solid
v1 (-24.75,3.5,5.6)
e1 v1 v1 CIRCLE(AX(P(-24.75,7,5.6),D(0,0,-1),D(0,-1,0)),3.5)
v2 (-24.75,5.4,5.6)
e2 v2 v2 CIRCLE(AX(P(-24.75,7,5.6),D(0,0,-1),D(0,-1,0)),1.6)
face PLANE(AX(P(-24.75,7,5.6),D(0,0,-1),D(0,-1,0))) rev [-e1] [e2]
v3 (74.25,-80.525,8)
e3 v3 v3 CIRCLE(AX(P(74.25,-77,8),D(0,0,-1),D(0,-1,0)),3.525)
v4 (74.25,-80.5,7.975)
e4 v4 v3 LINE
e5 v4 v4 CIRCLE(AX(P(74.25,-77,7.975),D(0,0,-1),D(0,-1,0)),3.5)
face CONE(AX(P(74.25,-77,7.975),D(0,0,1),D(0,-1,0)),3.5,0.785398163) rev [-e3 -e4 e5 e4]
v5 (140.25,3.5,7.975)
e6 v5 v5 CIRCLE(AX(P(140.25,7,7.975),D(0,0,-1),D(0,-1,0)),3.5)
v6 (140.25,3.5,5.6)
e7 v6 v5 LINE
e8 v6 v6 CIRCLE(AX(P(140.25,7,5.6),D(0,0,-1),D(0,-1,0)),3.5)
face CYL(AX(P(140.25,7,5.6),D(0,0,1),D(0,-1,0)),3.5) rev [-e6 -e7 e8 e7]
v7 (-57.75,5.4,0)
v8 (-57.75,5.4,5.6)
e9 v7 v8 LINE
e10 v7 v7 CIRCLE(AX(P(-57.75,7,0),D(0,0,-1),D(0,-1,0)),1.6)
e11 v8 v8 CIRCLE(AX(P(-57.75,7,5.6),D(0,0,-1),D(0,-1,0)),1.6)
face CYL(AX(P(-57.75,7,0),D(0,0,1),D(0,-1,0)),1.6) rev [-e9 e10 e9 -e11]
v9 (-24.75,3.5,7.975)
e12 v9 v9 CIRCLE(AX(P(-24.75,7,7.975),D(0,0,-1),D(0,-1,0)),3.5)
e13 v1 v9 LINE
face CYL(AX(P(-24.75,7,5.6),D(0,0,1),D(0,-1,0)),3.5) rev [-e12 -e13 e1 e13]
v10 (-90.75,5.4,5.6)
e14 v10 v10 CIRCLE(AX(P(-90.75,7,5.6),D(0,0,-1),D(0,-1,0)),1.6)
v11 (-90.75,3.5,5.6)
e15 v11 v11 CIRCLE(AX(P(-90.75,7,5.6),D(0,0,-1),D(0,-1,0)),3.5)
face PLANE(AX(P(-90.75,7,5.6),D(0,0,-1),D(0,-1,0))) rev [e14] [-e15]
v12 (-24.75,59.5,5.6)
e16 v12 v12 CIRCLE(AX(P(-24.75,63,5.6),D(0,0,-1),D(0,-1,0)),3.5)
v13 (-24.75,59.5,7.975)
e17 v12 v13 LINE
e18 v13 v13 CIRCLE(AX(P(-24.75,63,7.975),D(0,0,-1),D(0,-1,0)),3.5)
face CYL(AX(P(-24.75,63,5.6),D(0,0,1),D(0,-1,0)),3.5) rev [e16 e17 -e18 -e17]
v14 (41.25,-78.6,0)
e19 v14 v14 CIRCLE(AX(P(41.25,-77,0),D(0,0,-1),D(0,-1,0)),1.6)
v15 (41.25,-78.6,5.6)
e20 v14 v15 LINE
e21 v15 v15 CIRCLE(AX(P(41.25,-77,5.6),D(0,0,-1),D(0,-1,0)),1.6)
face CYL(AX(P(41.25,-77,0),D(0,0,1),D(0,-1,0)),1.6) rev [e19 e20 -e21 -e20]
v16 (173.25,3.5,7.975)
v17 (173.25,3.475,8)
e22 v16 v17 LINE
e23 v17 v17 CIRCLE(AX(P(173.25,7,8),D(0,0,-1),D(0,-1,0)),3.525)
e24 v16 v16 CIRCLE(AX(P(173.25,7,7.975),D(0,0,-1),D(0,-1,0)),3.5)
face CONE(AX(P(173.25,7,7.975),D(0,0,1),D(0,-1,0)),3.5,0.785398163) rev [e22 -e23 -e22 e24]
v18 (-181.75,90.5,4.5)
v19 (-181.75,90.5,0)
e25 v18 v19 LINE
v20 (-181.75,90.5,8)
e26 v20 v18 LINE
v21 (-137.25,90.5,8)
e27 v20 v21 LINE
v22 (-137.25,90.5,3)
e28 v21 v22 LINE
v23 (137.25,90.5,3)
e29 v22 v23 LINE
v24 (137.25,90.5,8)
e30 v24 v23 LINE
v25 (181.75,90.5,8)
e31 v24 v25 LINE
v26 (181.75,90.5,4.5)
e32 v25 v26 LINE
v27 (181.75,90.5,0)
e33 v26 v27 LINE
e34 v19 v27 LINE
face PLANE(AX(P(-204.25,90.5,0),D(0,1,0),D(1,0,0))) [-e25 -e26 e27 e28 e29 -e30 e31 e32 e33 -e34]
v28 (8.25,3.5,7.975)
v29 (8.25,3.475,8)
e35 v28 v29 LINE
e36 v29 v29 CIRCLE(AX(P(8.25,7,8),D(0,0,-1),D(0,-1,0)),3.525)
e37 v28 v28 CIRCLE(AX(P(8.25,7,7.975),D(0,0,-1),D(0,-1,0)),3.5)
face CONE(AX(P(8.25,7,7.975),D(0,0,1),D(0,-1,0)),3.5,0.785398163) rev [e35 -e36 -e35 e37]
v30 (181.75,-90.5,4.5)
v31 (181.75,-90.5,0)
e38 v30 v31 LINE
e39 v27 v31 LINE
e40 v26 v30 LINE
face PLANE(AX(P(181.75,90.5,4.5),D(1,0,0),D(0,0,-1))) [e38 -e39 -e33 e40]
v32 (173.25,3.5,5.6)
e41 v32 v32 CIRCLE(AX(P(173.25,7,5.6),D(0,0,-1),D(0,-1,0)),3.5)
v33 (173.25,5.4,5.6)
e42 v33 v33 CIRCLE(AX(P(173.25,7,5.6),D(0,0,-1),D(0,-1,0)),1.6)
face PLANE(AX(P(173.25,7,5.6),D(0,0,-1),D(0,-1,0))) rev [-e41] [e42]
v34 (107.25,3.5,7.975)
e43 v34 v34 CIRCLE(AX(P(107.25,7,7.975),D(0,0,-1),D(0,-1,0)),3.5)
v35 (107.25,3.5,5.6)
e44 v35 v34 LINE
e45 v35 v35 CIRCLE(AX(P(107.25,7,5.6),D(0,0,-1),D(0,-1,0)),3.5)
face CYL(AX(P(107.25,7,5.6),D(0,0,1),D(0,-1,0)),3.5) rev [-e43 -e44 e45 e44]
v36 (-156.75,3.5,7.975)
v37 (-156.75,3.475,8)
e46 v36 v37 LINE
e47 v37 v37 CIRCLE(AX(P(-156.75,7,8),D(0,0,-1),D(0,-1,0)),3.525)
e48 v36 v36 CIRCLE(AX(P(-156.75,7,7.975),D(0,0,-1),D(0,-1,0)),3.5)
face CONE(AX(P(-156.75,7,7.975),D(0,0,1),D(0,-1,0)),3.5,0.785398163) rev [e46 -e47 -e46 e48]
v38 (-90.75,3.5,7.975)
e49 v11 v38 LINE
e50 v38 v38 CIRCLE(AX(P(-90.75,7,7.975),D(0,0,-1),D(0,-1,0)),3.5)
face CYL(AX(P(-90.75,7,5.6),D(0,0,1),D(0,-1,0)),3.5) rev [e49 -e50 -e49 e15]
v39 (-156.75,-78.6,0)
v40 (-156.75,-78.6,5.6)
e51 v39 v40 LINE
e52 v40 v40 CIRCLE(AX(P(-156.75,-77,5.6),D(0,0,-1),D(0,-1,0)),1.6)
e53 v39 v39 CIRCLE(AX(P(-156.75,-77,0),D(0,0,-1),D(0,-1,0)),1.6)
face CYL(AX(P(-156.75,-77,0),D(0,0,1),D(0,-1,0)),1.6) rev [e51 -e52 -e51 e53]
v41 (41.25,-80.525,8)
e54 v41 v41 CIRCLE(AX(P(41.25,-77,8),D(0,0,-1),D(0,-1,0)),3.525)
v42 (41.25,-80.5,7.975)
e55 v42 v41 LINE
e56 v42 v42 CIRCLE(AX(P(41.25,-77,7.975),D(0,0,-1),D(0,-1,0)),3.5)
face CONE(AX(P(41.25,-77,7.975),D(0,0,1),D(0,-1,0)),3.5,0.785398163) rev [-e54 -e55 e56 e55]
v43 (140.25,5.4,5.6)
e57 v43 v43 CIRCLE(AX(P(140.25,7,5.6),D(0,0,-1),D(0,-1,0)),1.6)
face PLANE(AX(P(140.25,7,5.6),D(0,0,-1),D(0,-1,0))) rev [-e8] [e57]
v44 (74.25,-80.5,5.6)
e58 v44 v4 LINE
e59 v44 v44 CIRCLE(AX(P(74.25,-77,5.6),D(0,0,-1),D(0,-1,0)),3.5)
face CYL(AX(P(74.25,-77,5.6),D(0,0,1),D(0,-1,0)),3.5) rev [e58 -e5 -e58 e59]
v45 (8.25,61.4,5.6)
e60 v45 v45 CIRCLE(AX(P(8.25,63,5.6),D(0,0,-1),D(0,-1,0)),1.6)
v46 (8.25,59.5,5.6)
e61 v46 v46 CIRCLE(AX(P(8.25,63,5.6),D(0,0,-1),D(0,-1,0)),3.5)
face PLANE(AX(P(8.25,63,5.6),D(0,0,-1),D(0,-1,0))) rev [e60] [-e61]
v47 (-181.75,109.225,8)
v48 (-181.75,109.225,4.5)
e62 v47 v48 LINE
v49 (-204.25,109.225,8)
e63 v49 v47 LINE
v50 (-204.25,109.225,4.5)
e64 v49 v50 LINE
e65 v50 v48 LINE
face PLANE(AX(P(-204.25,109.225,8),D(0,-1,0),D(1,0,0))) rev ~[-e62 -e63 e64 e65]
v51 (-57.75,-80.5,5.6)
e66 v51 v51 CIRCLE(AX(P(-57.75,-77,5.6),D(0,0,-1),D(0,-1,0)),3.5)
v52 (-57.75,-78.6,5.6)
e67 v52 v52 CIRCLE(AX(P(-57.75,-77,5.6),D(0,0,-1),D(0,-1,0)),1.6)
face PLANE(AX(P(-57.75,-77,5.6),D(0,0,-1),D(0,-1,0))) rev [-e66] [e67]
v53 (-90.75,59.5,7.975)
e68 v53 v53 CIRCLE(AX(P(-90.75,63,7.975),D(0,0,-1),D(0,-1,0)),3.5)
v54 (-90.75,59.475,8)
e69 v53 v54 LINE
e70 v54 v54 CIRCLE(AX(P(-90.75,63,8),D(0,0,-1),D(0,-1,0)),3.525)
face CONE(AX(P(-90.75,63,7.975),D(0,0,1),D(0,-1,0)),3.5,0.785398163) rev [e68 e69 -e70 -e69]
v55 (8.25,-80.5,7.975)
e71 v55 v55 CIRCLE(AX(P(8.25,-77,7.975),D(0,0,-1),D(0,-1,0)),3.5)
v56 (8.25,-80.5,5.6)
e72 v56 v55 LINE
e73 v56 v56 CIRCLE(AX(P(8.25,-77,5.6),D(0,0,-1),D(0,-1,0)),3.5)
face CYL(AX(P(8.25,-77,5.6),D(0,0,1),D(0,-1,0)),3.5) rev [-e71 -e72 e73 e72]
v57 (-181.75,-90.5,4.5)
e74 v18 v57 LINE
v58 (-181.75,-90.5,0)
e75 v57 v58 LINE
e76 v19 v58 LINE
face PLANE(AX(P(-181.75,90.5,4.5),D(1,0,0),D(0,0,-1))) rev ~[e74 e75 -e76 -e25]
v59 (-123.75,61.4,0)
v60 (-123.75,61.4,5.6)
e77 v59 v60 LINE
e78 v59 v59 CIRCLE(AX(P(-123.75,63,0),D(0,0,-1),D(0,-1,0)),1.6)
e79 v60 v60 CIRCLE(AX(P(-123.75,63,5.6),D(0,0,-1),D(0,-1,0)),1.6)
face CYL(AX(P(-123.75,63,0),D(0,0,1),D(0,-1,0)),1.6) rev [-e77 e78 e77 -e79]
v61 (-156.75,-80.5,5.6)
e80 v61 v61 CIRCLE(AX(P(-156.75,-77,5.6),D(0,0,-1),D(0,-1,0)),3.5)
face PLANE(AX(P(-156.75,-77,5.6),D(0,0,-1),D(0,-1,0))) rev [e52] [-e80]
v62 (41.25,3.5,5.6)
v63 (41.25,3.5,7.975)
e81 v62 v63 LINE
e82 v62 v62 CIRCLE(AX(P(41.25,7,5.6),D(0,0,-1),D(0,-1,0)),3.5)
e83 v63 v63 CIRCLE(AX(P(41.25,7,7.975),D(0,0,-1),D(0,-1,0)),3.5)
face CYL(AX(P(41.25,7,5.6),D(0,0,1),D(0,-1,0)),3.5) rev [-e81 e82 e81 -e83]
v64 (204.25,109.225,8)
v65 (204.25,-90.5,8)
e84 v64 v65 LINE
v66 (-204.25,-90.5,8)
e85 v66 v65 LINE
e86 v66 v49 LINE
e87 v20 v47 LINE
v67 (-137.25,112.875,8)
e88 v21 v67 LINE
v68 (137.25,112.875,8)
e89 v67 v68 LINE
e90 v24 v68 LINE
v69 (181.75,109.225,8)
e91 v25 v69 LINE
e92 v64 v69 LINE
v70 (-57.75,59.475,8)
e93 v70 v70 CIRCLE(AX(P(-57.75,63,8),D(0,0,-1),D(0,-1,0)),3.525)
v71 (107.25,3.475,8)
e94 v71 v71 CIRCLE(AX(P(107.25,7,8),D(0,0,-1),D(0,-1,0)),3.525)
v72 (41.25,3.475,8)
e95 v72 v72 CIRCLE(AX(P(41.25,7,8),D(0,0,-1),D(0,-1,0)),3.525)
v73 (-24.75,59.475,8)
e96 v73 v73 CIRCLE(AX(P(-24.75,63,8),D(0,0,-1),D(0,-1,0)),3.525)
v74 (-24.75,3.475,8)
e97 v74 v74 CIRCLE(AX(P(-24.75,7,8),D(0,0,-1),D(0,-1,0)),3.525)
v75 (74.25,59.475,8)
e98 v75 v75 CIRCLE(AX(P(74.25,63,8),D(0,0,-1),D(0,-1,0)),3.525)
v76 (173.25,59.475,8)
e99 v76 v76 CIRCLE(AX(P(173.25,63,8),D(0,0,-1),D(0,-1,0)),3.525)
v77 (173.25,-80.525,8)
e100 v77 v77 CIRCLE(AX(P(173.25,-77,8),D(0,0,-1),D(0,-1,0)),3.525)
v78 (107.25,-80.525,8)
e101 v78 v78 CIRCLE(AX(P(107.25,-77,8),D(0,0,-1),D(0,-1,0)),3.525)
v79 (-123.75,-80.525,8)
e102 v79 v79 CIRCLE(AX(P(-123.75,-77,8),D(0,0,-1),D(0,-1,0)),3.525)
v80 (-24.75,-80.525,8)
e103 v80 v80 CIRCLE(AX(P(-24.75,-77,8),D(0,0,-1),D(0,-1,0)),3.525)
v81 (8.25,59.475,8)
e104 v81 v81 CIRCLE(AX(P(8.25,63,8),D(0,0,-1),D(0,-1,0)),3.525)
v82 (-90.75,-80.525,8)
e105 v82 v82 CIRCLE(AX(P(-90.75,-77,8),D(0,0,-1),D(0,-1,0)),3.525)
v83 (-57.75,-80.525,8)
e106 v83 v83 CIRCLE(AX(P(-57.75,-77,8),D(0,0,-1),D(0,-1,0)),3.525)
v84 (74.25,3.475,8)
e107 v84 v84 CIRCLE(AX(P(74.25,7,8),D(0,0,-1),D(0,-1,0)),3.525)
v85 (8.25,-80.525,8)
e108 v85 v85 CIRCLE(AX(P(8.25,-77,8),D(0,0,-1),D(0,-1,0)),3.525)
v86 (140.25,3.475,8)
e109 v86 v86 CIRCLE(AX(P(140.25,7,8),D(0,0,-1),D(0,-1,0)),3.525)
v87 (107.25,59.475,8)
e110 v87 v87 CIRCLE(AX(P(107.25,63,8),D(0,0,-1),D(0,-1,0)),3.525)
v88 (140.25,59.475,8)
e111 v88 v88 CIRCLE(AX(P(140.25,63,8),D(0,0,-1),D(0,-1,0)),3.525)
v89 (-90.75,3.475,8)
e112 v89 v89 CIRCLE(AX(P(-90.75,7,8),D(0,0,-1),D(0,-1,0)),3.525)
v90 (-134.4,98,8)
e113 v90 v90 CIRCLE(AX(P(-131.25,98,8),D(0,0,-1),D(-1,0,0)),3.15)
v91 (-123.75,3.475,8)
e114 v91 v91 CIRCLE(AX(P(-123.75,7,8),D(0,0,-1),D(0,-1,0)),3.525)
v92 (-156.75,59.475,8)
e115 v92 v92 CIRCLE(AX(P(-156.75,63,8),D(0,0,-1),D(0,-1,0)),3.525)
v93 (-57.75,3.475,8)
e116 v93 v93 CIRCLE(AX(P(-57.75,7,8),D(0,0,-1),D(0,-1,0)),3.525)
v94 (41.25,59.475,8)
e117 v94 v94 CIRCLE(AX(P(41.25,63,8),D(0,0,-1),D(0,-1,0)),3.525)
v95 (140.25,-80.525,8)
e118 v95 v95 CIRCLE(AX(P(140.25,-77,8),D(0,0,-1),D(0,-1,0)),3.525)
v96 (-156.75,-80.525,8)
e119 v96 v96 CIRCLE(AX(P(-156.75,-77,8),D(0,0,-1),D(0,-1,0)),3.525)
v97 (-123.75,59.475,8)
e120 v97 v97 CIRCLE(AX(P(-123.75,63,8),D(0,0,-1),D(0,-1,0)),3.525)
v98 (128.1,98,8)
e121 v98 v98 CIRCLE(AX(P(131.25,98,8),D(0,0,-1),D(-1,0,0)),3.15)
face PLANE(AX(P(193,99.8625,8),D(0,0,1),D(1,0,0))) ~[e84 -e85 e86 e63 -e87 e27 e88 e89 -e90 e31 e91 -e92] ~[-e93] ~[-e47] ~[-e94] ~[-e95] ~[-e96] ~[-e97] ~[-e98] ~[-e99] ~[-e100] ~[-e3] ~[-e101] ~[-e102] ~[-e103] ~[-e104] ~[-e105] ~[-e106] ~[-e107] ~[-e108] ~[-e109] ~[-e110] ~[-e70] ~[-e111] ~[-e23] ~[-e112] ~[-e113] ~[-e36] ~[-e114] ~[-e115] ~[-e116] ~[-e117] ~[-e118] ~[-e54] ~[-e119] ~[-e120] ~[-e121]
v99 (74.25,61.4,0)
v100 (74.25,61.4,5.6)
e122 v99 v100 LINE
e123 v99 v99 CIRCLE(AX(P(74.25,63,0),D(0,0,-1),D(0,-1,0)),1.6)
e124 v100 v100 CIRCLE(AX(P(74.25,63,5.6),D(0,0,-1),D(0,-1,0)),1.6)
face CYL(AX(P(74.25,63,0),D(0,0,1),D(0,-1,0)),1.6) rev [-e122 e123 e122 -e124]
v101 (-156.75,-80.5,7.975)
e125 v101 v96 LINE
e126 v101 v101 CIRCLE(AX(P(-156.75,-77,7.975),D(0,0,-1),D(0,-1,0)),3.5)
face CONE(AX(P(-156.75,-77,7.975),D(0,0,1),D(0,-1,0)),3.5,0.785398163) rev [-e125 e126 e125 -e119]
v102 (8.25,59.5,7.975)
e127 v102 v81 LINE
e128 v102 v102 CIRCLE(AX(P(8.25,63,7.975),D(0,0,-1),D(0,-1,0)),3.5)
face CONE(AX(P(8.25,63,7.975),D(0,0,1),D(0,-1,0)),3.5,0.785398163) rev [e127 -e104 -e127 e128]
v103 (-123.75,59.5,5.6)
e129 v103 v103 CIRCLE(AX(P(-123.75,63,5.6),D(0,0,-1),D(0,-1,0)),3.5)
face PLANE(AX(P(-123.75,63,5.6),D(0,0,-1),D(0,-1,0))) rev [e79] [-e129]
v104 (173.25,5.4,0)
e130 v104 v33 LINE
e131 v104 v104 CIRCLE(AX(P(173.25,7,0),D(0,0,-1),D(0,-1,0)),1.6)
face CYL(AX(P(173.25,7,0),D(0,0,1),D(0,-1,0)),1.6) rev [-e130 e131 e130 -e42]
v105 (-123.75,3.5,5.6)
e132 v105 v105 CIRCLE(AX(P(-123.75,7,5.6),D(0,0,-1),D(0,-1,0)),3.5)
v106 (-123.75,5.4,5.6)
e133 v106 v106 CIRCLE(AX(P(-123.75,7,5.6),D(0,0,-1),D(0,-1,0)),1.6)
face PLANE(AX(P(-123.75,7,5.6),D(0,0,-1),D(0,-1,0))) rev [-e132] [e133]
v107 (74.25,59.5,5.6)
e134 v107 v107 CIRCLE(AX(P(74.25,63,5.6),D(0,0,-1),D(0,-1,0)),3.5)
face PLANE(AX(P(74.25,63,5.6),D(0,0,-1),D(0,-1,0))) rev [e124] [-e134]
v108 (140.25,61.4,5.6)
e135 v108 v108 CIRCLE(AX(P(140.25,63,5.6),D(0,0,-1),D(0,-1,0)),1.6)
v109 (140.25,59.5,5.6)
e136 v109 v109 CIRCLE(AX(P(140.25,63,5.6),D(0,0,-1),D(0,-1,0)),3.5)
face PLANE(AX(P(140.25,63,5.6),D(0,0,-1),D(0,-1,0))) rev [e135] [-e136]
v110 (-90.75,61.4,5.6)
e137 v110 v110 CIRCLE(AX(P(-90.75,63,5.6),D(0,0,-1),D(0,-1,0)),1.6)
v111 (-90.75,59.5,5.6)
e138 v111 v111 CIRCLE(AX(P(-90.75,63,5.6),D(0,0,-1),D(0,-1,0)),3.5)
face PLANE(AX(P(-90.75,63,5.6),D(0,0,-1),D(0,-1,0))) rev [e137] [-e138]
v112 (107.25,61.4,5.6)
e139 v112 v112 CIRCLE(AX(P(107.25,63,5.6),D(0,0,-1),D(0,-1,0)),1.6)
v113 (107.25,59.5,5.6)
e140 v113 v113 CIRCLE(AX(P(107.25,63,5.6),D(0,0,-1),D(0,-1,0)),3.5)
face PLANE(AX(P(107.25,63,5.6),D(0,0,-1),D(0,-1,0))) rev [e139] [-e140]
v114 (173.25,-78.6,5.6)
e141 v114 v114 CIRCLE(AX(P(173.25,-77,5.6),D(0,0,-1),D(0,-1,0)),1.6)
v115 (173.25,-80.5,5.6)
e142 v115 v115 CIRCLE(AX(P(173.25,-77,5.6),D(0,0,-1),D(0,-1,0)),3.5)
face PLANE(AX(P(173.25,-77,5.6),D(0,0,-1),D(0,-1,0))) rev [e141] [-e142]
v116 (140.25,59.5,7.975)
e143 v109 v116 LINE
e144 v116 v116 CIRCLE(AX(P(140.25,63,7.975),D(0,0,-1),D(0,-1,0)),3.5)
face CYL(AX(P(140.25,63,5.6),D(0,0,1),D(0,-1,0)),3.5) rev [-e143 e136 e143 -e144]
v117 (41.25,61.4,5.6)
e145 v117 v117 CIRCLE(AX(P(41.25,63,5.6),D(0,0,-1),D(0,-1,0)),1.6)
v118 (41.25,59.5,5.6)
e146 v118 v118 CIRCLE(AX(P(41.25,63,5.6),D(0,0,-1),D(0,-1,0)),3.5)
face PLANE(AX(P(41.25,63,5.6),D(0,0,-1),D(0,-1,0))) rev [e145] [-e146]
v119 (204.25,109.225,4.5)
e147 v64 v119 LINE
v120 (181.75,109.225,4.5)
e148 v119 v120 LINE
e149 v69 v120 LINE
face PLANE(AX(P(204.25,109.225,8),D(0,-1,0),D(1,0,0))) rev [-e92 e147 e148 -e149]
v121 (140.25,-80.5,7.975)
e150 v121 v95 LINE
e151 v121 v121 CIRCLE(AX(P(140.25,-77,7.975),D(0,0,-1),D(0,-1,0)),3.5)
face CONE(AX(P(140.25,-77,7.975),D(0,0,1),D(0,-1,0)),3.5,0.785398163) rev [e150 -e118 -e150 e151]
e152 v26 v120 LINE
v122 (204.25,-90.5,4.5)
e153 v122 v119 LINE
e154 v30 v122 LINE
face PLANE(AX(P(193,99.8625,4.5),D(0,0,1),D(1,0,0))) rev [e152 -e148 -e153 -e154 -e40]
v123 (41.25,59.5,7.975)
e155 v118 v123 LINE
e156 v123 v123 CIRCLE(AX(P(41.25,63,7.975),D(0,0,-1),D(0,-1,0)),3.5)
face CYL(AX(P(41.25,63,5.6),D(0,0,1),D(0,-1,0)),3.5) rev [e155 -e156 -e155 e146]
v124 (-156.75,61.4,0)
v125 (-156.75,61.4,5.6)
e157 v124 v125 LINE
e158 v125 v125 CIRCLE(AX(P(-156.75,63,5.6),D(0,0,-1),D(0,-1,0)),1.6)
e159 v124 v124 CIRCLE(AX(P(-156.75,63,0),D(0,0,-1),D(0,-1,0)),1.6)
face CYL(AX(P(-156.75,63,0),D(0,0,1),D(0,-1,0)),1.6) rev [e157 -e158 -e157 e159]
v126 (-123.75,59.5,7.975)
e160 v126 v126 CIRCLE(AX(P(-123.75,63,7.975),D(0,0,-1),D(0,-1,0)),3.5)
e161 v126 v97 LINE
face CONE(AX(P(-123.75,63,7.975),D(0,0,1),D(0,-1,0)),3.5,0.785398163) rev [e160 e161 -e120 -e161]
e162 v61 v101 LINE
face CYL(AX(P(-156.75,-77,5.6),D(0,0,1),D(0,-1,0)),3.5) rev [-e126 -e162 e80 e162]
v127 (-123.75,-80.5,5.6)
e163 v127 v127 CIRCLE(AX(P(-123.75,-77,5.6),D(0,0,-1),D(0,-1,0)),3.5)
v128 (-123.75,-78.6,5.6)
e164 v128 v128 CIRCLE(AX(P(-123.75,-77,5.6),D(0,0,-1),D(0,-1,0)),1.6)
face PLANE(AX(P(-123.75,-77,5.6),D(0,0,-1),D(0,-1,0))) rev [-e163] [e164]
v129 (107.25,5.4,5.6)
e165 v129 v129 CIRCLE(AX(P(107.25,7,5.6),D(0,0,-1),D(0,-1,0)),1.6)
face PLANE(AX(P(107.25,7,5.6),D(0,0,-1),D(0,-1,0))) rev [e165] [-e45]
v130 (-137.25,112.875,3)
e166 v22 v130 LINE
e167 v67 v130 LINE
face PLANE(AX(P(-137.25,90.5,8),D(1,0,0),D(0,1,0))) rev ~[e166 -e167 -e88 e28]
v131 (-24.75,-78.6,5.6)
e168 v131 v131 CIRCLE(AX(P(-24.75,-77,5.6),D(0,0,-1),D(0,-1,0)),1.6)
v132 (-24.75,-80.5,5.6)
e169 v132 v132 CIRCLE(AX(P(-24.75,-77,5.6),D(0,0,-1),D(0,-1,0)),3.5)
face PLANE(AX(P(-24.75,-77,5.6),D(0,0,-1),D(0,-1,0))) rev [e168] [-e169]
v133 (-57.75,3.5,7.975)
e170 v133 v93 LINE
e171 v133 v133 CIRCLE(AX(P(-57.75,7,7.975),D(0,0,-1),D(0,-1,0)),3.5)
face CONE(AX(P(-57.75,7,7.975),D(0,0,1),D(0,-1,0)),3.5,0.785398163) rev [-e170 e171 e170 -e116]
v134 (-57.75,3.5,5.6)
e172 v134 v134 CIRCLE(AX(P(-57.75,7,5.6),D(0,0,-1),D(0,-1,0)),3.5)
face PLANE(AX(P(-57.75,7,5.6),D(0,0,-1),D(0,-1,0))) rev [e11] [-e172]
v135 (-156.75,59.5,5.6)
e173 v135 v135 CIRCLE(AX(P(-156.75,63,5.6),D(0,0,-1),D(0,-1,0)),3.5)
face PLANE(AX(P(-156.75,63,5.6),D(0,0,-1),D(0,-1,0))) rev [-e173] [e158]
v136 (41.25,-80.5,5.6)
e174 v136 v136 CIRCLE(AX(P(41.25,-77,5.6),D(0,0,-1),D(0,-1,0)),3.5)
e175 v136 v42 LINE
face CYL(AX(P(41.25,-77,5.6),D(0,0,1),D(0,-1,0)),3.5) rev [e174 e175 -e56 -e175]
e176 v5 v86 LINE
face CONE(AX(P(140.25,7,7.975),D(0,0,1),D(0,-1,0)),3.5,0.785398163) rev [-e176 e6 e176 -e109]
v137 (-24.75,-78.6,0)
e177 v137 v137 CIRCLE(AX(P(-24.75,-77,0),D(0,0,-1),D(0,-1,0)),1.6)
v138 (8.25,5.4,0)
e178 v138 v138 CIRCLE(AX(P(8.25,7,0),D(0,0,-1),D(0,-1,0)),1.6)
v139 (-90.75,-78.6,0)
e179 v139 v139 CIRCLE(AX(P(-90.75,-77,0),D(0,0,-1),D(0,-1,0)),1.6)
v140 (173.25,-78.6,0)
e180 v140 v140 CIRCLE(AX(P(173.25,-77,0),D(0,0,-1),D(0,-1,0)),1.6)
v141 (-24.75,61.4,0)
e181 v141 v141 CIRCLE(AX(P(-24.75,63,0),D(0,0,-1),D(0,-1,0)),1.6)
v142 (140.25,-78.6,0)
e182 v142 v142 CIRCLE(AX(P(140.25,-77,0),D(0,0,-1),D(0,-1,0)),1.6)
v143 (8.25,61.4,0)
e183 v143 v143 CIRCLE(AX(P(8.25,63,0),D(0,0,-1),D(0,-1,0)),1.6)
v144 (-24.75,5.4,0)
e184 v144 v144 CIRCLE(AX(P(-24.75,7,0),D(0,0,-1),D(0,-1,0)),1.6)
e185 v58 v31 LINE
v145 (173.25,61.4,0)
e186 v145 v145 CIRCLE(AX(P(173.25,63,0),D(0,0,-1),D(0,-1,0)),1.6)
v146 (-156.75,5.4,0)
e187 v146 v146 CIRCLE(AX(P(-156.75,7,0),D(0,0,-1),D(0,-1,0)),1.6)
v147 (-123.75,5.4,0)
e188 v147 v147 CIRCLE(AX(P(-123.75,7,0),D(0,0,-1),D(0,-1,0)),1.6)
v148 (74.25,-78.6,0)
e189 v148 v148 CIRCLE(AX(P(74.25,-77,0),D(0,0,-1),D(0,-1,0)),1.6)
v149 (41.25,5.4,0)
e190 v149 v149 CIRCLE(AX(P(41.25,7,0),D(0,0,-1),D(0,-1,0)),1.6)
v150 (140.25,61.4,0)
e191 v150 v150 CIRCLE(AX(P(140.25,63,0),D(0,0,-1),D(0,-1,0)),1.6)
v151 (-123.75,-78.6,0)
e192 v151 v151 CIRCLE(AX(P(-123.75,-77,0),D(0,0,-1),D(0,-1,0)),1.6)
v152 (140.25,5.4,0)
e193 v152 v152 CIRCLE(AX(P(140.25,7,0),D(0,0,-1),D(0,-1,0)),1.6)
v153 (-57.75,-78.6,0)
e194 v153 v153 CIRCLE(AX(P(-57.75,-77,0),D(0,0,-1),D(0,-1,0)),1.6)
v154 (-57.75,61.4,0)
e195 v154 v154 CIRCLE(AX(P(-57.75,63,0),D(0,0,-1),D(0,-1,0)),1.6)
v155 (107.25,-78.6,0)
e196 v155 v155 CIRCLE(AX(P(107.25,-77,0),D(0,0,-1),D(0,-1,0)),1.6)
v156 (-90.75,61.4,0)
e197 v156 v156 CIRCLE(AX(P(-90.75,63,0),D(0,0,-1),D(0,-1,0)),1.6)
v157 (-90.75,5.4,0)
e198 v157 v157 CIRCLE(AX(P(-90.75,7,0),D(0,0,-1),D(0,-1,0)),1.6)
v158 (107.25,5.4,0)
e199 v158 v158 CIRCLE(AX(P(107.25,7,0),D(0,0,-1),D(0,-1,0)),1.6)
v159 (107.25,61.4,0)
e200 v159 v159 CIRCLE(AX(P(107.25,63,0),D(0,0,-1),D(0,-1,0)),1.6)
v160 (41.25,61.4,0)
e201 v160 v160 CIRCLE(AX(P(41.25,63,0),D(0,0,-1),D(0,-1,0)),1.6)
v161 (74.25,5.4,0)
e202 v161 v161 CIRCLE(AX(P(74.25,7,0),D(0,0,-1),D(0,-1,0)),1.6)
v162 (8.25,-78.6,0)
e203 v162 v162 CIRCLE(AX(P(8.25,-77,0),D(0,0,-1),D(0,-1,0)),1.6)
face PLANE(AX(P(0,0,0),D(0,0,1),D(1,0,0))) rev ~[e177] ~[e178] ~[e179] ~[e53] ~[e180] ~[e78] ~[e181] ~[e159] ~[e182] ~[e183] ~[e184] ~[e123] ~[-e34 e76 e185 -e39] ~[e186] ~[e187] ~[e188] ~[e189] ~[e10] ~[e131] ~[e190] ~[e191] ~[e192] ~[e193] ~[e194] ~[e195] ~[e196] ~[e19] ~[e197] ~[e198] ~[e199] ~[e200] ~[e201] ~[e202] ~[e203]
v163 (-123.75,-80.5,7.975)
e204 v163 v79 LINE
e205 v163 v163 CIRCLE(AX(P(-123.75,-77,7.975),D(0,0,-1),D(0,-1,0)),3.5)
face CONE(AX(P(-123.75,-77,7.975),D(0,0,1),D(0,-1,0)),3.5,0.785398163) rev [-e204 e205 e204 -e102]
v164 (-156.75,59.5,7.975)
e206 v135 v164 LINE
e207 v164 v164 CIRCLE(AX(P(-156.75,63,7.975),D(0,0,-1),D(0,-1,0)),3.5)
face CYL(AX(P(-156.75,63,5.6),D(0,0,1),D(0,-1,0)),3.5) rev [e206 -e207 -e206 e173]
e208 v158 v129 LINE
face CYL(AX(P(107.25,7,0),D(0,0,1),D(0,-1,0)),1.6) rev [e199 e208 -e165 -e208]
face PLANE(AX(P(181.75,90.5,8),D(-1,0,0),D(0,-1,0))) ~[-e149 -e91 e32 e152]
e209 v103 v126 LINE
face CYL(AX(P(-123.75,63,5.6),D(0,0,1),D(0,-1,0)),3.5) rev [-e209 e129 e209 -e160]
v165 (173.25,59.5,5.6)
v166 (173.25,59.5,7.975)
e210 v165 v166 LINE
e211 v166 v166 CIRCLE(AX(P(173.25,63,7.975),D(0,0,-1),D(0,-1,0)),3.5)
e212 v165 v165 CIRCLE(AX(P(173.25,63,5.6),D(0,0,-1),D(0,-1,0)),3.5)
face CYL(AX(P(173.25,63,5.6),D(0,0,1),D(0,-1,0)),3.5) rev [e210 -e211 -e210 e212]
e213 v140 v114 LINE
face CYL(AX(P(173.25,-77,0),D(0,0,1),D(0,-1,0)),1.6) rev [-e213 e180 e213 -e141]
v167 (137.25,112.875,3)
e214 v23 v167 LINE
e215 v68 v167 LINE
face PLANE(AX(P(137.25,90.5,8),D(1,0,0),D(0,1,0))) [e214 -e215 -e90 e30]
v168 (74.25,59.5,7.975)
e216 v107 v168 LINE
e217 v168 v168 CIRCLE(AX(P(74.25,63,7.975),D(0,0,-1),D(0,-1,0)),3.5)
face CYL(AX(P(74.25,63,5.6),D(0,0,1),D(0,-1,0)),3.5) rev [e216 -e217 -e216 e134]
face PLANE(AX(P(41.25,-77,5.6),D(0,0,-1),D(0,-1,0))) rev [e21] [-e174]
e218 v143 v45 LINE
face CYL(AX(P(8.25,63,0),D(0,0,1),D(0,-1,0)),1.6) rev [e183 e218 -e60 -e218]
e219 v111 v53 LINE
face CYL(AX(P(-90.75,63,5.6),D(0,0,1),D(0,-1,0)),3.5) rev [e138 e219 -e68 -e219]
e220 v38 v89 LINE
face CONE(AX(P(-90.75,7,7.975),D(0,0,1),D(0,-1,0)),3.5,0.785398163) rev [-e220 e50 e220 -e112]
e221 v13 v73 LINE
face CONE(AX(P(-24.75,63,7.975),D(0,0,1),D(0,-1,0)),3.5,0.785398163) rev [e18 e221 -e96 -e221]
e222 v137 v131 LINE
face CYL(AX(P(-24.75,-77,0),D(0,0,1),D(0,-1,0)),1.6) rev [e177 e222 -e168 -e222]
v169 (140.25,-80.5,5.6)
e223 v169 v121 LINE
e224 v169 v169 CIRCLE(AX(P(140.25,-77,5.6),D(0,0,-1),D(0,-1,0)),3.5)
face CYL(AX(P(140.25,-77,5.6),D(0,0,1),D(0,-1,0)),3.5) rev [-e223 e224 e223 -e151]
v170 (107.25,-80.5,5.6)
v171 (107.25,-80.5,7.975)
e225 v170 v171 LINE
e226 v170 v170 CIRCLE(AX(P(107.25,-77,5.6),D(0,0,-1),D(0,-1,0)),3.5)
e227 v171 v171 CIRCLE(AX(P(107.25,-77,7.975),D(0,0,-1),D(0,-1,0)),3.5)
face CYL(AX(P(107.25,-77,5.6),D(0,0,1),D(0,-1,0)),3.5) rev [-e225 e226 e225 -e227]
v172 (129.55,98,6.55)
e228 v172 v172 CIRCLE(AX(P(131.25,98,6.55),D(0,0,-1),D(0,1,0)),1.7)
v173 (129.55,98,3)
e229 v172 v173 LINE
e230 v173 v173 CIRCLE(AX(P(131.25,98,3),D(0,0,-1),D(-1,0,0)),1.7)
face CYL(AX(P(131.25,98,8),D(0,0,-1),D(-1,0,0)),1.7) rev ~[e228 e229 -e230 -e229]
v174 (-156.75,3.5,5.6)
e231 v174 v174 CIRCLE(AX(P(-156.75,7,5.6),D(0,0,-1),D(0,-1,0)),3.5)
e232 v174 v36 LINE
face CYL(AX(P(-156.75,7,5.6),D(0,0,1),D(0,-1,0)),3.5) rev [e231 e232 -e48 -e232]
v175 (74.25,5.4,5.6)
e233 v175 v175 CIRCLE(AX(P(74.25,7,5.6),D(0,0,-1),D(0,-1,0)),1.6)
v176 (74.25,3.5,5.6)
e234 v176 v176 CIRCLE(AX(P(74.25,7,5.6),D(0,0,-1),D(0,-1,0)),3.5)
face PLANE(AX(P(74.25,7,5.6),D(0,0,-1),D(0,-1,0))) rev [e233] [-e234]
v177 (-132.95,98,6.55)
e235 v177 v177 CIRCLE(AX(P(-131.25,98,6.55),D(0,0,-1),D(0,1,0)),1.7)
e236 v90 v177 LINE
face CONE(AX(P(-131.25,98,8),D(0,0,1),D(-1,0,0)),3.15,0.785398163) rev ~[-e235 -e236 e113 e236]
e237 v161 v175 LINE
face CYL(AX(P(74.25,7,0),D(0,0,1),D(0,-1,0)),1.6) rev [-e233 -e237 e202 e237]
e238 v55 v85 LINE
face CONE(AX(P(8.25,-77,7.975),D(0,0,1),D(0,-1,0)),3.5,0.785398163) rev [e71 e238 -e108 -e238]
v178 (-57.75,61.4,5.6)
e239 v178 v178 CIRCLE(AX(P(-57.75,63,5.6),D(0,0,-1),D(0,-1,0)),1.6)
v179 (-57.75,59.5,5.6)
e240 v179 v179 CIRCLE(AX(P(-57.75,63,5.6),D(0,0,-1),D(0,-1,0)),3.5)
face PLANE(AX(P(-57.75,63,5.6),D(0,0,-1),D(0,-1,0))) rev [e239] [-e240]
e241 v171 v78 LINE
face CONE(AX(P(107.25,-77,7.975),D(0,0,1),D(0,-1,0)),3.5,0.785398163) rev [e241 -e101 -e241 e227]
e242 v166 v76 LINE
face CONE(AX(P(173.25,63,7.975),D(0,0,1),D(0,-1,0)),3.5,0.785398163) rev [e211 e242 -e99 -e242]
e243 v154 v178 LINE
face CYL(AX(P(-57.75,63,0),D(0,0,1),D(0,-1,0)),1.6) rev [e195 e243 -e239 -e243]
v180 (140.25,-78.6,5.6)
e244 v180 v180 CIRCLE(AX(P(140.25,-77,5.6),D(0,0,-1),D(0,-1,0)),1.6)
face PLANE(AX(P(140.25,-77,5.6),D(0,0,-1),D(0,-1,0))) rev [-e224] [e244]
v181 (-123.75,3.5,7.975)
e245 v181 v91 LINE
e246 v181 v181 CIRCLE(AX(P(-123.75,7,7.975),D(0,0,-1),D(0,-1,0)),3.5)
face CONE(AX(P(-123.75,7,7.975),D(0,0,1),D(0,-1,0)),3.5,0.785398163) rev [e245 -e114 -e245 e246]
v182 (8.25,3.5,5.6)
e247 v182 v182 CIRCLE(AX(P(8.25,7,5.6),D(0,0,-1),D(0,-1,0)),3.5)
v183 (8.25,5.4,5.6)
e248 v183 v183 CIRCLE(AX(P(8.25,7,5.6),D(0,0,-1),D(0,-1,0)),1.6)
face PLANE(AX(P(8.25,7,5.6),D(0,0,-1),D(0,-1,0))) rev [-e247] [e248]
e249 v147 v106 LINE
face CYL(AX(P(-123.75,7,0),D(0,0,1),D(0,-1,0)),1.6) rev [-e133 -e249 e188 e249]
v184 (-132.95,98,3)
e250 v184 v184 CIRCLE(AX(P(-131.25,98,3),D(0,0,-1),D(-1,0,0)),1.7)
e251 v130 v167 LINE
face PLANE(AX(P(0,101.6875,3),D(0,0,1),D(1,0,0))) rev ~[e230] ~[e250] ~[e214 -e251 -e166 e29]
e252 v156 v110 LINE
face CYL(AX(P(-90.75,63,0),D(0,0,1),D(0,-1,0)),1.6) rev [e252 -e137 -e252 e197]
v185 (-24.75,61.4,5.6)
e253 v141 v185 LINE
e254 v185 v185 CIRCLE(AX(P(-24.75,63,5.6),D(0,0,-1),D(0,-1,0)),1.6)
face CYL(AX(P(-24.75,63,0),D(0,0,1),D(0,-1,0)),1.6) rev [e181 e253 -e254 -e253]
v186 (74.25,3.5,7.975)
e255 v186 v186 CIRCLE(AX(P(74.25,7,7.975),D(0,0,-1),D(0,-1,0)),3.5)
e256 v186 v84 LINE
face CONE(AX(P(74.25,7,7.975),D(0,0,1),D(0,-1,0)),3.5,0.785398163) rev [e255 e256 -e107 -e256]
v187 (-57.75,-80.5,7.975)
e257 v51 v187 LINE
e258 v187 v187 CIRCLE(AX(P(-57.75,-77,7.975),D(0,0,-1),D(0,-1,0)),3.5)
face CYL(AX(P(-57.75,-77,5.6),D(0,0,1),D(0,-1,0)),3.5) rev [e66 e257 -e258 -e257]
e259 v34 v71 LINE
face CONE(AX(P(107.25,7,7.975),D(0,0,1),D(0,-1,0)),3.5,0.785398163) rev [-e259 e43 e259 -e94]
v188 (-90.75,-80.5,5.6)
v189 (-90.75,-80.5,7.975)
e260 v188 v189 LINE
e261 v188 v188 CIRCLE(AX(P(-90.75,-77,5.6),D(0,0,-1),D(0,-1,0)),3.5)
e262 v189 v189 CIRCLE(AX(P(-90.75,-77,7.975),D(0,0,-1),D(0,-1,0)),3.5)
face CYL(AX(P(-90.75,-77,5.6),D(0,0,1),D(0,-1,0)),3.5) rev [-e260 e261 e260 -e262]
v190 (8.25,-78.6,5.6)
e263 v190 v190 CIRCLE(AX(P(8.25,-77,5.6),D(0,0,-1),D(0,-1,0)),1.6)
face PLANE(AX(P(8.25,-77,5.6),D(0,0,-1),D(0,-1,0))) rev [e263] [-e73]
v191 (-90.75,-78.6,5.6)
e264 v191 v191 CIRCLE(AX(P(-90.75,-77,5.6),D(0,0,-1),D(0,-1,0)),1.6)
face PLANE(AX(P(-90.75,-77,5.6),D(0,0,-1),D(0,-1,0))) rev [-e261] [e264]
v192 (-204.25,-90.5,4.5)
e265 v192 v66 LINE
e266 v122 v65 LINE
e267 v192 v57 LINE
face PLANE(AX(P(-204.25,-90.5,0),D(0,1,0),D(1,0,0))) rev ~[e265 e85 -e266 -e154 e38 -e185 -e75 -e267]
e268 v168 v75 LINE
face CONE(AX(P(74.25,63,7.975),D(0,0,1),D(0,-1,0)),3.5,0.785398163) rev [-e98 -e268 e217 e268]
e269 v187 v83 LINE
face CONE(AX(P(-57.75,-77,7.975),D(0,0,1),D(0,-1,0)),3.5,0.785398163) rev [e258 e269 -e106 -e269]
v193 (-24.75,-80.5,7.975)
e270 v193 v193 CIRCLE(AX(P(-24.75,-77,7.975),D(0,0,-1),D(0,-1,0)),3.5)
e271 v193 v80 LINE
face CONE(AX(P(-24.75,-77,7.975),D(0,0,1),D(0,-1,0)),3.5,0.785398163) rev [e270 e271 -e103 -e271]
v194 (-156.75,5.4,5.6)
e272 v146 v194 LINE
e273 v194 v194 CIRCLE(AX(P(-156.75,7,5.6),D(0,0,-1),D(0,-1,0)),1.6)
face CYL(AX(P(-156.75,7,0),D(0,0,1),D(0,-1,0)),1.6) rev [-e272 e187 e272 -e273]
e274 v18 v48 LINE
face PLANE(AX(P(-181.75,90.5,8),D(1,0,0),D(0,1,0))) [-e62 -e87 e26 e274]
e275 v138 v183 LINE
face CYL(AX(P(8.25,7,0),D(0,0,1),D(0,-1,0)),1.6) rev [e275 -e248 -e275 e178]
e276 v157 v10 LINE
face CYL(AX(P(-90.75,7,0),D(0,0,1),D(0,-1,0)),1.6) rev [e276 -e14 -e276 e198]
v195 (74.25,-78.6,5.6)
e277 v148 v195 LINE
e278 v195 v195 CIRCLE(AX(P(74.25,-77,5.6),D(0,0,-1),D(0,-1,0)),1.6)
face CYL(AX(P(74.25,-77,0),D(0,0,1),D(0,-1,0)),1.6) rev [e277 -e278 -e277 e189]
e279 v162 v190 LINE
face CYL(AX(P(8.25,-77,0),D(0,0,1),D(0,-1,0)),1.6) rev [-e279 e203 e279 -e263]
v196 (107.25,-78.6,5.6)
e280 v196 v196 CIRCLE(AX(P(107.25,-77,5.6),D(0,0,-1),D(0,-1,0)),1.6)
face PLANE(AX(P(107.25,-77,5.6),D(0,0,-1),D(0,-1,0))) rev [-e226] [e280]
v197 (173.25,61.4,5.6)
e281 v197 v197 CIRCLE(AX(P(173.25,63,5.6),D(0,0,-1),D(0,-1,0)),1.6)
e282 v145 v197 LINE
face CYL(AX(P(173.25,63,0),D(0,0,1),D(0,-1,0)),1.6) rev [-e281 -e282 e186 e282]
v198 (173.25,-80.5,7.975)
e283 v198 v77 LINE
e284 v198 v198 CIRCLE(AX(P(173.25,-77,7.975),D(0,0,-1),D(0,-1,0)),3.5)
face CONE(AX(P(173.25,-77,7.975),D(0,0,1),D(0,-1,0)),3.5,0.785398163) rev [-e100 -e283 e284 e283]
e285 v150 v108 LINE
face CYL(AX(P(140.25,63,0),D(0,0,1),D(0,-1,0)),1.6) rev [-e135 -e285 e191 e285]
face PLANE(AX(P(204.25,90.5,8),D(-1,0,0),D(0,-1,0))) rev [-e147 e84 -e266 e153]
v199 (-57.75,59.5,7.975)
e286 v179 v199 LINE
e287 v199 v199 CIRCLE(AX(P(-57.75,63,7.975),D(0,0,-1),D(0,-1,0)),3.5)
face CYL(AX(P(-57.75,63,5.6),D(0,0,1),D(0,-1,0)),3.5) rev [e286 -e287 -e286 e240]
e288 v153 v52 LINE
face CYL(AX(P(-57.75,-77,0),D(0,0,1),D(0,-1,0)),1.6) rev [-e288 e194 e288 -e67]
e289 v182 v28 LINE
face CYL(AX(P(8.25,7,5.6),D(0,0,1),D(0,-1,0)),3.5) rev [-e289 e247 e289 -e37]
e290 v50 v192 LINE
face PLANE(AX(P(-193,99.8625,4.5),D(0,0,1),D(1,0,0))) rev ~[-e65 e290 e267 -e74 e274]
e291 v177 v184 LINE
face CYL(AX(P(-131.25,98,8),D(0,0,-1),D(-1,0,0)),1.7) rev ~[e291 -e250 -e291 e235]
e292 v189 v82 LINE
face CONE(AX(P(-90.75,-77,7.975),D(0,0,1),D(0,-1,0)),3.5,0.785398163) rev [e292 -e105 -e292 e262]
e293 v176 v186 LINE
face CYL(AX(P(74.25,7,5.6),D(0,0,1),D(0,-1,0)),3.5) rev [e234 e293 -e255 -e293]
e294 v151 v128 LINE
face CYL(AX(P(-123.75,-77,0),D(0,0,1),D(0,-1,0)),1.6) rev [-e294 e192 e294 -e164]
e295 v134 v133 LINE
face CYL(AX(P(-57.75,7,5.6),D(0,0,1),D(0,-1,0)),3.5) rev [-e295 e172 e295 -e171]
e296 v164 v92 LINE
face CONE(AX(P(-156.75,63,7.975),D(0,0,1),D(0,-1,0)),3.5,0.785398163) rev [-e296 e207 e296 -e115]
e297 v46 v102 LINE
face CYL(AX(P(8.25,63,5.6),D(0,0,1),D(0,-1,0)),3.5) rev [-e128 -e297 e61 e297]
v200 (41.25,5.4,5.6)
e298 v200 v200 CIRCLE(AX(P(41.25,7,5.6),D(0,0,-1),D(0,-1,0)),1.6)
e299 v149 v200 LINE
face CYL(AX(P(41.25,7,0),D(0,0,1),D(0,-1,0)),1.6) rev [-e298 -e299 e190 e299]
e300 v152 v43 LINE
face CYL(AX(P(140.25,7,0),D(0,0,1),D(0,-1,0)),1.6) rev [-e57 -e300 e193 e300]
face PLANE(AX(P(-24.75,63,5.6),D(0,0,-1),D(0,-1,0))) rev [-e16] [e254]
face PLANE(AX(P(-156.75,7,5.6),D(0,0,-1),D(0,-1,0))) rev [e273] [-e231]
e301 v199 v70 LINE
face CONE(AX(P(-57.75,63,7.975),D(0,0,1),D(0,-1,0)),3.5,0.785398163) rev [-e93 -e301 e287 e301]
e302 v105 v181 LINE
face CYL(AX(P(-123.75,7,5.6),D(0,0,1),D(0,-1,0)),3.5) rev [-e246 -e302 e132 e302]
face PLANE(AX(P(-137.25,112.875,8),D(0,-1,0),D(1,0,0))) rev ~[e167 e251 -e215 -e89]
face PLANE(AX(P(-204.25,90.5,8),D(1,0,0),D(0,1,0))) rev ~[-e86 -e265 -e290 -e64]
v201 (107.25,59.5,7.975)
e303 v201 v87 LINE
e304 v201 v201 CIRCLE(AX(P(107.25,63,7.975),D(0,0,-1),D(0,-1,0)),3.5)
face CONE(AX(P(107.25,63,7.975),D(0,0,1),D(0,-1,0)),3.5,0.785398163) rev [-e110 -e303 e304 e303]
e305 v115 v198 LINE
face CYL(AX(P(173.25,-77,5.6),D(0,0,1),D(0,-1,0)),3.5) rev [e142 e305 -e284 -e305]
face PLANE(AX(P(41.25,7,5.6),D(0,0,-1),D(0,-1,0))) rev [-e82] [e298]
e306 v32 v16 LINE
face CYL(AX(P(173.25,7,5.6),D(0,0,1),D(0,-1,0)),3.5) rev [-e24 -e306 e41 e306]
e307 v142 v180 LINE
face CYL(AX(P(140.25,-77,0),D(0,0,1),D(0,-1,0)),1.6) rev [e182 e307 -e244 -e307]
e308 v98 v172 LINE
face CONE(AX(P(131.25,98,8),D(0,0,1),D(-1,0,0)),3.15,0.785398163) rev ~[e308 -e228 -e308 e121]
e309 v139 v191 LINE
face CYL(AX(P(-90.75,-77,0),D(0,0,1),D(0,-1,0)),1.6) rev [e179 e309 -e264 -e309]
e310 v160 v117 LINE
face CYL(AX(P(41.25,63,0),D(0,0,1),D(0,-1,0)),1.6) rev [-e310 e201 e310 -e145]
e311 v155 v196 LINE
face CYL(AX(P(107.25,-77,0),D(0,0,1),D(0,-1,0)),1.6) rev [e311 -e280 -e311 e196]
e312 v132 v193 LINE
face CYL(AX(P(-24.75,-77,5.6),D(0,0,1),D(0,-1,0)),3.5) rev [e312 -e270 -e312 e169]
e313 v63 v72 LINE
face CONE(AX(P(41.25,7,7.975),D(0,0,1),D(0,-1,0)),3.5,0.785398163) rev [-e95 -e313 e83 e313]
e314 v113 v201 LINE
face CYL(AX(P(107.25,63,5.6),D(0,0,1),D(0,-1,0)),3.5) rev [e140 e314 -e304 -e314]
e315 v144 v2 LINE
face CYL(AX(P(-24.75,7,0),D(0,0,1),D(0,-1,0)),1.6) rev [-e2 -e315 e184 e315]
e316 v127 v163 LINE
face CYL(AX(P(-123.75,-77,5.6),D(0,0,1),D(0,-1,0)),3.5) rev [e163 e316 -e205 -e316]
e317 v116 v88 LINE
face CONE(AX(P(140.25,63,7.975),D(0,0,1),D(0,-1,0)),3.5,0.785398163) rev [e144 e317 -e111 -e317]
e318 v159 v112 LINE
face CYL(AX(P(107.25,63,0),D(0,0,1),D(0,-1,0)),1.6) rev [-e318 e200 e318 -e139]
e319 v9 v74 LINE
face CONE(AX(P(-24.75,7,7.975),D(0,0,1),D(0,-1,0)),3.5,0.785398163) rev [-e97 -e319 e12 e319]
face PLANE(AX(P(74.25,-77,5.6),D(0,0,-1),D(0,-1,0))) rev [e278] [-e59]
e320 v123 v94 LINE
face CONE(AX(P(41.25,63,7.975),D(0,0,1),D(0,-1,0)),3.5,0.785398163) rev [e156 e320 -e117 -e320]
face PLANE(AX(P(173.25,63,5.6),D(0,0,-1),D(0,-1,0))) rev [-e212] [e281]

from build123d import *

# Parameters (mm, degrees)
ESQUISSE1_W                                    = 408.5
ESQUISSE1_H                                    = 181
BOSS_EXTRU_1_DEPTH                             = 8
CHAMBRAGE_POUR_VIS_T_TE_RONDE_BOMB_2_COUNT     = 2
CHAMBRAGE_POUR_VIS_T_TE_RONDE_BOMB_2_PITCH     = 56
CHAMBRAGE_POUR_VIS_T_TE_RONDE_BOMB_3_COUNT     = 2
CHAMBRAGE_POUR_VIS_T_TE_RONDE_BOMB_3_PITCH     = 140
R_P_TITION_LIN_AIRE1_COUNT                     = 11
R_P_TITION_LIN_AIRE1_PITCH                     = 33
ESQUISSE4_W                                    = 22.5
ESQUISSE4_H                                    = 4.5
ENL_V_MAT_EXTRU_1_DEPTH                        = 181
ESQUISSE5_W                                    = 22.5
ESQUISSE5_H                                    = 18.725
BOSS_EXTRU_2_DEPTH                             = 3.5
ESQUISSE7_W                                    = 274.5
ESQUISSE7_H                                    = 22.375
BOSS_EXTRU_3_DEPTH                             = 5
FRAISAGE_POUR_VIS_T_TE_FRAIS_E_M31_D           = 3.4
FRAISAGE_POUR_VIS_T_TE_FRAIS_E_M31_CSINK_D     = 6.3
FRAISAGE_POUR_VIS_T_TE_FRAIS_E_M31_CSINK_ANGLE = 90


with BuildPart() as part:
    # Esquisse1 → Boss.-Extru.1 (new body)
    with BuildSketch(Plane.XY):
        Rectangle(ESQUISSE1_W, ESQUISSE1_H)
    extrude(amount=BOSS_EXTRU_1_DEPTH)

    # Esquisse3 → Chambrage pour vis à tête ronde bombée M31 (revolve, cut)
    with BuildSketch(Plane(origin=(-156.75, 63, 8), x_dir=(0, -1, 0), z_dir=(1, 0, 0))):
        Polygon((0, 0), (0, 8), (1.6, 8), (1.6, 2.4), (3.5, 2.4), (3.5, 0.025), (3.525, 0), align=None)
    chambrage_pour_vis_t_te_ronde_bomb_e_m = revolve(axis=Axis((-156.75, 63, 14.35), (0, 0, -1)), mode=Mode.SUBTRACT)

    # Chambrage pour vis _ t_te ronde bomb 2: Chambrage pour vis à tête ronde bombée M31 ×2
    with Locations(*[(0, -i * CHAMBRAGE_POUR_VIS_T_TE_RONDE_BOMB_2_PITCH, 0) for i in range(1, CHAMBRAGE_POUR_VIS_T_TE_RONDE_BOMB_2_COUNT)]):
        add(chambrage_pour_vis_t_te_ronde_bomb_e_m, mode=Mode.SUBTRACT)

    # Chambrage pour vis _ t_te ronde bomb 3: Chambrage pour vis à tête ronde bombée M31 ×2
    with Locations(*[(0, -i * CHAMBRAGE_POUR_VIS_T_TE_RONDE_BOMB_3_PITCH, 0) for i in range(1, CHAMBRAGE_POUR_VIS_T_TE_RONDE_BOMB_3_COUNT)]):
        add(chambrage_pour_vis_t_te_ronde_bomb_e_m, mode=Mode.SUBTRACT)

    # Répétition linéaire1: Chambrage pour vis à tête ronde bombée M31 ×11
    with Locations(*[(i * R_P_TITION_LIN_AIRE1_PITCH, 0, 0) for i in range(1, R_P_TITION_LIN_AIRE1_COUNT)]):
        add(chambrage_pour_vis_t_te_ronde_bomb_e_m, mode=Mode.SUBTRACT)

    # Répétition linéaire1 copy 1 sketch → Répétition linéaire1 copy 1 (revolve, cut)
    with BuildSketch(Plane(origin=(-123.75, 7, 8), x_dir=(0, -1, 0), z_dir=(1, 0, 0))):
        Polygon((0, 0), (0, 8), (1.6, 8), (1.6, 2.4), (3.5, 2.4), (3.5, 0.025), (3.525, 0), align=None)
    revolve(axis=Axis((-123.75, 7, 14.35), (0, 0, -1)), mode=Mode.SUBTRACT)

    # Répétition linéaire1 copy 2 sketch → Répétition linéaire1 copy 2 (revolve, cut)
    with BuildSketch(Plane(origin=(-90.75, 7, 8), x_dir=(0, -1, 0), z_dir=(1, 0, 0))):
        Polygon((0, 0), (0, 8), (1.6, 8), (1.6, 2.4), (3.5, 2.4), (3.5, 0.025), (3.525, 0), align=None)
    revolve(axis=Axis((-90.75, 7, 14.35), (0, 0, -1)), mode=Mode.SUBTRACT)

    # Répétition linéaire1 copy 3 sketch → Répétition linéaire1 copy 3 (revolve, cut)
    with BuildSketch(Plane(origin=(-57.75, 7, 8), x_dir=(0, -1, 0), z_dir=(1, 0, 0))):
        Polygon((0, 0), (0, 8), (1.6, 8), (1.6, 2.4), (3.5, 2.4), (3.5, 0.025), (3.525, 0), align=None)
    revolve(axis=Axis((-57.75, 7, 14.35), (0, 0, -1)), mode=Mode.SUBTRACT)

    # Répétition linéaire1 copy 4 sketch → Répétition linéaire1 copy 4 (revolve, cut)
    with BuildSketch(Plane(origin=(-24.75, 7, 8), x_dir=(0, -1, 0), z_dir=(1, 0, 0))):
        Polygon((0, 0), (0, 8), (1.6, 8), (1.6, 2.4), (3.5, 2.4), (3.5, 0.025), (3.525, 0), align=None)
    revolve(axis=Axis((-24.75, 7, 14.35), (0, 0, -1)), mode=Mode.SUBTRACT)

    # Répétition linéaire1 copy 5 sketch → Répétition linéaire1 copy 5 (revolve, cut)
    with BuildSketch(Plane(origin=(8.25, 7, 8), x_dir=(0, -1, 0), z_dir=(1, 0, 0))):
        Polygon((0, 0), (0, 8), (1.6, 8), (1.6, 2.4), (3.5, 2.4), (3.5, 0.025), (3.525, 0), align=None)
    revolve(axis=Axis((8.25, 7, 14.35), (0, 0, -1)), mode=Mode.SUBTRACT)

    # Répétition linéaire1 copy 6 sketch → Répétition linéaire1 copy 6 (revolve, cut)
    with BuildSketch(Plane(origin=(41.25, 7, 8), x_dir=(0, -1, 0), z_dir=(1, 0, 0))):
        Polygon((0, 0), (0, 8), (1.6, 8), (1.6, 2.4), (3.5, 2.4), (3.5, 0.025), (3.525, 0), align=None)
    revolve(axis=Axis((41.25, 7, 14.35), (0, 0, -1)), mode=Mode.SUBTRACT)

    # Répétition linéaire1 copy 7 sketch → Répétition linéaire1 copy 7 (revolve, cut)
    with BuildSketch(Plane(origin=(74.25, 7, 8), x_dir=(0, -1, 0), z_dir=(1, 0, 0))):
        Polygon((0, 0), (0, 8), (1.6, 8), (1.6, 2.4), (3.5, 2.4), (3.5, 0.025), (3.525, 0), align=None)
    revolve(axis=Axis((74.25, 7, 14.35), (0, 0, -1)), mode=Mode.SUBTRACT)

    # Répétition linéaire1 copy 8 sketch → Répétition linéaire1 copy 8 (revolve, cut)
    with BuildSketch(Plane(origin=(107.25, 7, 8), x_dir=(0, -1, 0), z_dir=(1, 0, 0))):
        Polygon((0, 0), (0, 8), (1.6, 8), (1.6, 2.4), (3.5, 2.4), (3.5, 0.025), (3.525, 0), align=None)
    revolve(axis=Axis((107.25, 7, 14.35), (0, 0, -1)), mode=Mode.SUBTRACT)

    # Répétition linéaire1 copy 9 sketch → Répétition linéaire1 copy 9 (revolve, cut)
    with BuildSketch(Plane(origin=(140.25, 7, 8), x_dir=(0, -1, 0), z_dir=(1, 0, 0))):
        Polygon((0, 0), (0, 8), (1.6, 8), (1.6, 2.4), (3.5, 2.4), (3.5, 0.025), (3.525, 0), align=None)
    revolve(axis=Axis((140.25, 7, 14.35), (0, 0, -1)), mode=Mode.SUBTRACT)

    # Répétition linéaire1 copy 10 sketch → Répétition linéaire1 copy 10 (revolve, cut)
    with BuildSketch(Plane(origin=(173.25, 7, 8), x_dir=(0, -1, 0), z_dir=(1, 0, 0))):
        Polygon((0, 0), (0, 8), (1.6, 8), (1.6, 2.4), (3.5, 2.4), (3.5, 0.025), (3.525, 0), align=None)
    revolve(axis=Axis((173.25, 7, 14.35), (0, 0, -1)), mode=Mode.SUBTRACT)

    # Répétition linéaire1 copy 11 sketch → Répétition linéaire1 copy 11 (revolve, cut)
    with BuildSketch(Plane(origin=(-123.75, -77, 8), x_dir=(0, -1, 0), z_dir=(1, 0, 0))):
        Polygon((0, 0), (0, 8), (1.6, 8), (1.6, 2.4), (3.5, 2.4), (3.5, 0.025), (3.525, 0), align=None)
    revolve(axis=Axis((-123.75, -77, 14.35), (0, 0, -1)), mode=Mode.SUBTRACT)

    # Répétition linéaire1 copy 12 sketch → Répétition linéaire1 copy 12 (revolve, cut)
    with BuildSketch(Plane(origin=(-90.75, -77, 8), x_dir=(0, -1, 0), z_dir=(1, 0, 0))):
        Polygon((0, 0), (0, 8), (1.6, 8), (1.6, 2.4), (3.5, 2.4), (3.5, 0.025), (3.525, 0), align=None)
    revolve(axis=Axis((-90.75, -77, 14.35), (0, 0, -1)), mode=Mode.SUBTRACT)

    # Répétition linéaire1 copy 13 sketch → Répétition linéaire1 copy 13 (revolve, cut)
    with BuildSketch(Plane(origin=(-57.75, -77, 8), x_dir=(0, -1, 0), z_dir=(1, 0, 0))):
        Polygon((0, 0), (0, 8), (1.6, 8), (1.6, 2.4), (3.5, 2.4), (3.5, 0.025), (3.525, 0), align=None)
    revolve(axis=Axis((-57.75, -77, 14.35), (0, 0, -1)), mode=Mode.SUBTRACT)

    # Répétition linéaire1 copy 14 sketch → Répétition linéaire1 copy 14 (revolve, cut)
    with BuildSketch(Plane(origin=(-24.75, -77, 8), x_dir=(0, -1, 0), z_dir=(1, 0, 0))):
        Polygon((0, 0), (0, 8), (1.6, 8), (1.6, 2.4), (3.5, 2.4), (3.5, 0.025), (3.525, 0), align=None)
    revolve(axis=Axis((-24.75, -77, 14.35), (0, 0, -1)), mode=Mode.SUBTRACT)

    # Répétition linéaire1 copy 15 sketch → Répétition linéaire1 copy 15 (revolve, cut)
    with BuildSketch(Plane(origin=(8.25, -77, 8), x_dir=(0, -1, 0), z_dir=(1, 0, 0))):
        Polygon((0, 0), (0, 8), (1.6, 8), (1.6, 2.4), (3.5, 2.4), (3.5, 0.025), (3.525, 0), align=None)
    revolve(axis=Axis((8.25, -77, 14.35), (0, 0, -1)), mode=Mode.SUBTRACT)

    # Répétition linéaire1 copy 16 sketch → Répétition linéaire1 copy 16 (revolve, cut)
    with BuildSketch(Plane(origin=(41.25, -77, 8), x_dir=(0, -1, 0), z_dir=(1, 0, 0))):
        Polygon((0, 0), (0, 8), (1.6, 8), (1.6, 2.4), (3.5, 2.4), (3.5, 0.025), (3.525, 0), align=None)
    revolve(axis=Axis((41.25, -77, 14.35), (0, 0, -1)), mode=Mode.SUBTRACT)

    # Répétition linéaire1 copy 17 sketch → Répétition linéaire1 copy 17 (revolve, cut)
    with BuildSketch(Plane(origin=(74.25, -77, 8), x_dir=(0, -1, 0), z_dir=(1, 0, 0))):
        Polygon((0, 0), (0, 8), (1.6, 8), (1.6, 2.4), (3.5, 2.4), (3.5, 0.025), (3.525, 0), align=None)
    revolve(axis=Axis((74.25, -77, 14.35), (0, 0, -1)), mode=Mode.SUBTRACT)

    # Répétition linéaire1 copy 18 sketch → Répétition linéaire1 copy 18 (revolve, cut)
    with BuildSketch(Plane(origin=(107.25, -77, 8), x_dir=(0, -1, 0), z_dir=(1, 0, 0))):
        Polygon((0, 0), (0, 8), (1.6, 8), (1.6, 2.4), (3.5, 2.4), (3.5, 0.025), (3.525, 0), align=None)
    revolve(axis=Axis((107.25, -77, 14.35), (0, 0, -1)), mode=Mode.SUBTRACT)

    # Répétition linéaire1 copy 19 sketch → Répétition linéaire1 copy 19 (revolve, cut)
    with BuildSketch(Plane(origin=(140.25, -77, 8), x_dir=(0, -1, 0), z_dir=(1, 0, 0))):
        Polygon((0, 0), (0, 8), (1.6, 8), (1.6, 2.4), (3.5, 2.4), (3.5, 0.025), (3.525, 0), align=None)
    revolve(axis=Axis((140.25, -77, 14.35), (0, 0, -1)), mode=Mode.SUBTRACT)

    # Répétition linéaire1 copy 20 sketch → Répétition linéaire1 copy 20 (revolve, cut)
    with BuildSketch(Plane(origin=(173.25, -77, 8), x_dir=(0, -1, 0), z_dir=(1, 0, 0))):
        Polygon((0, 0), (0, 8), (1.6, 8), (1.6, 2.4), (3.5, 2.4), (3.5, 0.025), (3.525, 0), align=None)
    revolve(axis=Axis((173.25, -77, 14.35), (0, 0, -1)), mode=Mode.SUBTRACT)

    # Esquisse4 → Enlèv. mat.-Extru.1 (cut)
    with BuildSketch(Plane(origin=(0, 90.5, 0), x_dir=(1, 0, 0), z_dir=(0, 1, 0))):
        with Locations((-193, -2.25)):
            Rectangle(ESQUISSE4_W, ESQUISSE4_H)
        with Locations((193, -2.25)):
            Rectangle(ESQUISSE4_W, ESQUISSE4_H)
    extrude(amount=-ENL_V_MAT_EXTRU_1_DEPTH, mode=Mode.SUBTRACT)

    # Esquisse5 → Boss.-Extru.2 (add)
    with BuildSketch(Plane.XY.offset(8)):
        with Locations((-193, 99.8625)):
            Rectangle(ESQUISSE5_W, ESQUISSE5_H)
    boss_extru_2 = extrude(amount=-BOSS_EXTRU_2_DEPTH)

    # Symétrie1: Boss.-Extru.2 across plane
    add(boss_extru_2.mirror(Plane(origin=(0, 0, 0), x_dir=(0, 0, 1), z_dir=(1, 0, 0))))

    # Esquisse7 → Boss.-Extru.3 (add)
    with BuildSketch(Plane.XY.offset(8)):
        with Locations((0, 101.6875)):
            Rectangle(ESQUISSE7_W, ESQUISSE7_H)
    extrude(amount=-BOSS_EXTRU_3_DEPTH)

    # Fraisage pour vis à tête fraisée M31 (through all)
    with Locations(Plane.XY.offset(8)):
        with Locations((-131.25, 98), (131.25, 98)):
            CounterSinkHole(FRAISAGE_POUR_VIS_T_TE_FRAIS_E_M31_D / 2, FRAISAGE_POUR_VIS_T_TE_FRAIS_E_M31_CSINK_D / 2, counter_sink_angle=FRAISAGE_POUR_VIS_T_TE_FRAIS_E_M31_CSINK_ANGLE)


solid = part.part
